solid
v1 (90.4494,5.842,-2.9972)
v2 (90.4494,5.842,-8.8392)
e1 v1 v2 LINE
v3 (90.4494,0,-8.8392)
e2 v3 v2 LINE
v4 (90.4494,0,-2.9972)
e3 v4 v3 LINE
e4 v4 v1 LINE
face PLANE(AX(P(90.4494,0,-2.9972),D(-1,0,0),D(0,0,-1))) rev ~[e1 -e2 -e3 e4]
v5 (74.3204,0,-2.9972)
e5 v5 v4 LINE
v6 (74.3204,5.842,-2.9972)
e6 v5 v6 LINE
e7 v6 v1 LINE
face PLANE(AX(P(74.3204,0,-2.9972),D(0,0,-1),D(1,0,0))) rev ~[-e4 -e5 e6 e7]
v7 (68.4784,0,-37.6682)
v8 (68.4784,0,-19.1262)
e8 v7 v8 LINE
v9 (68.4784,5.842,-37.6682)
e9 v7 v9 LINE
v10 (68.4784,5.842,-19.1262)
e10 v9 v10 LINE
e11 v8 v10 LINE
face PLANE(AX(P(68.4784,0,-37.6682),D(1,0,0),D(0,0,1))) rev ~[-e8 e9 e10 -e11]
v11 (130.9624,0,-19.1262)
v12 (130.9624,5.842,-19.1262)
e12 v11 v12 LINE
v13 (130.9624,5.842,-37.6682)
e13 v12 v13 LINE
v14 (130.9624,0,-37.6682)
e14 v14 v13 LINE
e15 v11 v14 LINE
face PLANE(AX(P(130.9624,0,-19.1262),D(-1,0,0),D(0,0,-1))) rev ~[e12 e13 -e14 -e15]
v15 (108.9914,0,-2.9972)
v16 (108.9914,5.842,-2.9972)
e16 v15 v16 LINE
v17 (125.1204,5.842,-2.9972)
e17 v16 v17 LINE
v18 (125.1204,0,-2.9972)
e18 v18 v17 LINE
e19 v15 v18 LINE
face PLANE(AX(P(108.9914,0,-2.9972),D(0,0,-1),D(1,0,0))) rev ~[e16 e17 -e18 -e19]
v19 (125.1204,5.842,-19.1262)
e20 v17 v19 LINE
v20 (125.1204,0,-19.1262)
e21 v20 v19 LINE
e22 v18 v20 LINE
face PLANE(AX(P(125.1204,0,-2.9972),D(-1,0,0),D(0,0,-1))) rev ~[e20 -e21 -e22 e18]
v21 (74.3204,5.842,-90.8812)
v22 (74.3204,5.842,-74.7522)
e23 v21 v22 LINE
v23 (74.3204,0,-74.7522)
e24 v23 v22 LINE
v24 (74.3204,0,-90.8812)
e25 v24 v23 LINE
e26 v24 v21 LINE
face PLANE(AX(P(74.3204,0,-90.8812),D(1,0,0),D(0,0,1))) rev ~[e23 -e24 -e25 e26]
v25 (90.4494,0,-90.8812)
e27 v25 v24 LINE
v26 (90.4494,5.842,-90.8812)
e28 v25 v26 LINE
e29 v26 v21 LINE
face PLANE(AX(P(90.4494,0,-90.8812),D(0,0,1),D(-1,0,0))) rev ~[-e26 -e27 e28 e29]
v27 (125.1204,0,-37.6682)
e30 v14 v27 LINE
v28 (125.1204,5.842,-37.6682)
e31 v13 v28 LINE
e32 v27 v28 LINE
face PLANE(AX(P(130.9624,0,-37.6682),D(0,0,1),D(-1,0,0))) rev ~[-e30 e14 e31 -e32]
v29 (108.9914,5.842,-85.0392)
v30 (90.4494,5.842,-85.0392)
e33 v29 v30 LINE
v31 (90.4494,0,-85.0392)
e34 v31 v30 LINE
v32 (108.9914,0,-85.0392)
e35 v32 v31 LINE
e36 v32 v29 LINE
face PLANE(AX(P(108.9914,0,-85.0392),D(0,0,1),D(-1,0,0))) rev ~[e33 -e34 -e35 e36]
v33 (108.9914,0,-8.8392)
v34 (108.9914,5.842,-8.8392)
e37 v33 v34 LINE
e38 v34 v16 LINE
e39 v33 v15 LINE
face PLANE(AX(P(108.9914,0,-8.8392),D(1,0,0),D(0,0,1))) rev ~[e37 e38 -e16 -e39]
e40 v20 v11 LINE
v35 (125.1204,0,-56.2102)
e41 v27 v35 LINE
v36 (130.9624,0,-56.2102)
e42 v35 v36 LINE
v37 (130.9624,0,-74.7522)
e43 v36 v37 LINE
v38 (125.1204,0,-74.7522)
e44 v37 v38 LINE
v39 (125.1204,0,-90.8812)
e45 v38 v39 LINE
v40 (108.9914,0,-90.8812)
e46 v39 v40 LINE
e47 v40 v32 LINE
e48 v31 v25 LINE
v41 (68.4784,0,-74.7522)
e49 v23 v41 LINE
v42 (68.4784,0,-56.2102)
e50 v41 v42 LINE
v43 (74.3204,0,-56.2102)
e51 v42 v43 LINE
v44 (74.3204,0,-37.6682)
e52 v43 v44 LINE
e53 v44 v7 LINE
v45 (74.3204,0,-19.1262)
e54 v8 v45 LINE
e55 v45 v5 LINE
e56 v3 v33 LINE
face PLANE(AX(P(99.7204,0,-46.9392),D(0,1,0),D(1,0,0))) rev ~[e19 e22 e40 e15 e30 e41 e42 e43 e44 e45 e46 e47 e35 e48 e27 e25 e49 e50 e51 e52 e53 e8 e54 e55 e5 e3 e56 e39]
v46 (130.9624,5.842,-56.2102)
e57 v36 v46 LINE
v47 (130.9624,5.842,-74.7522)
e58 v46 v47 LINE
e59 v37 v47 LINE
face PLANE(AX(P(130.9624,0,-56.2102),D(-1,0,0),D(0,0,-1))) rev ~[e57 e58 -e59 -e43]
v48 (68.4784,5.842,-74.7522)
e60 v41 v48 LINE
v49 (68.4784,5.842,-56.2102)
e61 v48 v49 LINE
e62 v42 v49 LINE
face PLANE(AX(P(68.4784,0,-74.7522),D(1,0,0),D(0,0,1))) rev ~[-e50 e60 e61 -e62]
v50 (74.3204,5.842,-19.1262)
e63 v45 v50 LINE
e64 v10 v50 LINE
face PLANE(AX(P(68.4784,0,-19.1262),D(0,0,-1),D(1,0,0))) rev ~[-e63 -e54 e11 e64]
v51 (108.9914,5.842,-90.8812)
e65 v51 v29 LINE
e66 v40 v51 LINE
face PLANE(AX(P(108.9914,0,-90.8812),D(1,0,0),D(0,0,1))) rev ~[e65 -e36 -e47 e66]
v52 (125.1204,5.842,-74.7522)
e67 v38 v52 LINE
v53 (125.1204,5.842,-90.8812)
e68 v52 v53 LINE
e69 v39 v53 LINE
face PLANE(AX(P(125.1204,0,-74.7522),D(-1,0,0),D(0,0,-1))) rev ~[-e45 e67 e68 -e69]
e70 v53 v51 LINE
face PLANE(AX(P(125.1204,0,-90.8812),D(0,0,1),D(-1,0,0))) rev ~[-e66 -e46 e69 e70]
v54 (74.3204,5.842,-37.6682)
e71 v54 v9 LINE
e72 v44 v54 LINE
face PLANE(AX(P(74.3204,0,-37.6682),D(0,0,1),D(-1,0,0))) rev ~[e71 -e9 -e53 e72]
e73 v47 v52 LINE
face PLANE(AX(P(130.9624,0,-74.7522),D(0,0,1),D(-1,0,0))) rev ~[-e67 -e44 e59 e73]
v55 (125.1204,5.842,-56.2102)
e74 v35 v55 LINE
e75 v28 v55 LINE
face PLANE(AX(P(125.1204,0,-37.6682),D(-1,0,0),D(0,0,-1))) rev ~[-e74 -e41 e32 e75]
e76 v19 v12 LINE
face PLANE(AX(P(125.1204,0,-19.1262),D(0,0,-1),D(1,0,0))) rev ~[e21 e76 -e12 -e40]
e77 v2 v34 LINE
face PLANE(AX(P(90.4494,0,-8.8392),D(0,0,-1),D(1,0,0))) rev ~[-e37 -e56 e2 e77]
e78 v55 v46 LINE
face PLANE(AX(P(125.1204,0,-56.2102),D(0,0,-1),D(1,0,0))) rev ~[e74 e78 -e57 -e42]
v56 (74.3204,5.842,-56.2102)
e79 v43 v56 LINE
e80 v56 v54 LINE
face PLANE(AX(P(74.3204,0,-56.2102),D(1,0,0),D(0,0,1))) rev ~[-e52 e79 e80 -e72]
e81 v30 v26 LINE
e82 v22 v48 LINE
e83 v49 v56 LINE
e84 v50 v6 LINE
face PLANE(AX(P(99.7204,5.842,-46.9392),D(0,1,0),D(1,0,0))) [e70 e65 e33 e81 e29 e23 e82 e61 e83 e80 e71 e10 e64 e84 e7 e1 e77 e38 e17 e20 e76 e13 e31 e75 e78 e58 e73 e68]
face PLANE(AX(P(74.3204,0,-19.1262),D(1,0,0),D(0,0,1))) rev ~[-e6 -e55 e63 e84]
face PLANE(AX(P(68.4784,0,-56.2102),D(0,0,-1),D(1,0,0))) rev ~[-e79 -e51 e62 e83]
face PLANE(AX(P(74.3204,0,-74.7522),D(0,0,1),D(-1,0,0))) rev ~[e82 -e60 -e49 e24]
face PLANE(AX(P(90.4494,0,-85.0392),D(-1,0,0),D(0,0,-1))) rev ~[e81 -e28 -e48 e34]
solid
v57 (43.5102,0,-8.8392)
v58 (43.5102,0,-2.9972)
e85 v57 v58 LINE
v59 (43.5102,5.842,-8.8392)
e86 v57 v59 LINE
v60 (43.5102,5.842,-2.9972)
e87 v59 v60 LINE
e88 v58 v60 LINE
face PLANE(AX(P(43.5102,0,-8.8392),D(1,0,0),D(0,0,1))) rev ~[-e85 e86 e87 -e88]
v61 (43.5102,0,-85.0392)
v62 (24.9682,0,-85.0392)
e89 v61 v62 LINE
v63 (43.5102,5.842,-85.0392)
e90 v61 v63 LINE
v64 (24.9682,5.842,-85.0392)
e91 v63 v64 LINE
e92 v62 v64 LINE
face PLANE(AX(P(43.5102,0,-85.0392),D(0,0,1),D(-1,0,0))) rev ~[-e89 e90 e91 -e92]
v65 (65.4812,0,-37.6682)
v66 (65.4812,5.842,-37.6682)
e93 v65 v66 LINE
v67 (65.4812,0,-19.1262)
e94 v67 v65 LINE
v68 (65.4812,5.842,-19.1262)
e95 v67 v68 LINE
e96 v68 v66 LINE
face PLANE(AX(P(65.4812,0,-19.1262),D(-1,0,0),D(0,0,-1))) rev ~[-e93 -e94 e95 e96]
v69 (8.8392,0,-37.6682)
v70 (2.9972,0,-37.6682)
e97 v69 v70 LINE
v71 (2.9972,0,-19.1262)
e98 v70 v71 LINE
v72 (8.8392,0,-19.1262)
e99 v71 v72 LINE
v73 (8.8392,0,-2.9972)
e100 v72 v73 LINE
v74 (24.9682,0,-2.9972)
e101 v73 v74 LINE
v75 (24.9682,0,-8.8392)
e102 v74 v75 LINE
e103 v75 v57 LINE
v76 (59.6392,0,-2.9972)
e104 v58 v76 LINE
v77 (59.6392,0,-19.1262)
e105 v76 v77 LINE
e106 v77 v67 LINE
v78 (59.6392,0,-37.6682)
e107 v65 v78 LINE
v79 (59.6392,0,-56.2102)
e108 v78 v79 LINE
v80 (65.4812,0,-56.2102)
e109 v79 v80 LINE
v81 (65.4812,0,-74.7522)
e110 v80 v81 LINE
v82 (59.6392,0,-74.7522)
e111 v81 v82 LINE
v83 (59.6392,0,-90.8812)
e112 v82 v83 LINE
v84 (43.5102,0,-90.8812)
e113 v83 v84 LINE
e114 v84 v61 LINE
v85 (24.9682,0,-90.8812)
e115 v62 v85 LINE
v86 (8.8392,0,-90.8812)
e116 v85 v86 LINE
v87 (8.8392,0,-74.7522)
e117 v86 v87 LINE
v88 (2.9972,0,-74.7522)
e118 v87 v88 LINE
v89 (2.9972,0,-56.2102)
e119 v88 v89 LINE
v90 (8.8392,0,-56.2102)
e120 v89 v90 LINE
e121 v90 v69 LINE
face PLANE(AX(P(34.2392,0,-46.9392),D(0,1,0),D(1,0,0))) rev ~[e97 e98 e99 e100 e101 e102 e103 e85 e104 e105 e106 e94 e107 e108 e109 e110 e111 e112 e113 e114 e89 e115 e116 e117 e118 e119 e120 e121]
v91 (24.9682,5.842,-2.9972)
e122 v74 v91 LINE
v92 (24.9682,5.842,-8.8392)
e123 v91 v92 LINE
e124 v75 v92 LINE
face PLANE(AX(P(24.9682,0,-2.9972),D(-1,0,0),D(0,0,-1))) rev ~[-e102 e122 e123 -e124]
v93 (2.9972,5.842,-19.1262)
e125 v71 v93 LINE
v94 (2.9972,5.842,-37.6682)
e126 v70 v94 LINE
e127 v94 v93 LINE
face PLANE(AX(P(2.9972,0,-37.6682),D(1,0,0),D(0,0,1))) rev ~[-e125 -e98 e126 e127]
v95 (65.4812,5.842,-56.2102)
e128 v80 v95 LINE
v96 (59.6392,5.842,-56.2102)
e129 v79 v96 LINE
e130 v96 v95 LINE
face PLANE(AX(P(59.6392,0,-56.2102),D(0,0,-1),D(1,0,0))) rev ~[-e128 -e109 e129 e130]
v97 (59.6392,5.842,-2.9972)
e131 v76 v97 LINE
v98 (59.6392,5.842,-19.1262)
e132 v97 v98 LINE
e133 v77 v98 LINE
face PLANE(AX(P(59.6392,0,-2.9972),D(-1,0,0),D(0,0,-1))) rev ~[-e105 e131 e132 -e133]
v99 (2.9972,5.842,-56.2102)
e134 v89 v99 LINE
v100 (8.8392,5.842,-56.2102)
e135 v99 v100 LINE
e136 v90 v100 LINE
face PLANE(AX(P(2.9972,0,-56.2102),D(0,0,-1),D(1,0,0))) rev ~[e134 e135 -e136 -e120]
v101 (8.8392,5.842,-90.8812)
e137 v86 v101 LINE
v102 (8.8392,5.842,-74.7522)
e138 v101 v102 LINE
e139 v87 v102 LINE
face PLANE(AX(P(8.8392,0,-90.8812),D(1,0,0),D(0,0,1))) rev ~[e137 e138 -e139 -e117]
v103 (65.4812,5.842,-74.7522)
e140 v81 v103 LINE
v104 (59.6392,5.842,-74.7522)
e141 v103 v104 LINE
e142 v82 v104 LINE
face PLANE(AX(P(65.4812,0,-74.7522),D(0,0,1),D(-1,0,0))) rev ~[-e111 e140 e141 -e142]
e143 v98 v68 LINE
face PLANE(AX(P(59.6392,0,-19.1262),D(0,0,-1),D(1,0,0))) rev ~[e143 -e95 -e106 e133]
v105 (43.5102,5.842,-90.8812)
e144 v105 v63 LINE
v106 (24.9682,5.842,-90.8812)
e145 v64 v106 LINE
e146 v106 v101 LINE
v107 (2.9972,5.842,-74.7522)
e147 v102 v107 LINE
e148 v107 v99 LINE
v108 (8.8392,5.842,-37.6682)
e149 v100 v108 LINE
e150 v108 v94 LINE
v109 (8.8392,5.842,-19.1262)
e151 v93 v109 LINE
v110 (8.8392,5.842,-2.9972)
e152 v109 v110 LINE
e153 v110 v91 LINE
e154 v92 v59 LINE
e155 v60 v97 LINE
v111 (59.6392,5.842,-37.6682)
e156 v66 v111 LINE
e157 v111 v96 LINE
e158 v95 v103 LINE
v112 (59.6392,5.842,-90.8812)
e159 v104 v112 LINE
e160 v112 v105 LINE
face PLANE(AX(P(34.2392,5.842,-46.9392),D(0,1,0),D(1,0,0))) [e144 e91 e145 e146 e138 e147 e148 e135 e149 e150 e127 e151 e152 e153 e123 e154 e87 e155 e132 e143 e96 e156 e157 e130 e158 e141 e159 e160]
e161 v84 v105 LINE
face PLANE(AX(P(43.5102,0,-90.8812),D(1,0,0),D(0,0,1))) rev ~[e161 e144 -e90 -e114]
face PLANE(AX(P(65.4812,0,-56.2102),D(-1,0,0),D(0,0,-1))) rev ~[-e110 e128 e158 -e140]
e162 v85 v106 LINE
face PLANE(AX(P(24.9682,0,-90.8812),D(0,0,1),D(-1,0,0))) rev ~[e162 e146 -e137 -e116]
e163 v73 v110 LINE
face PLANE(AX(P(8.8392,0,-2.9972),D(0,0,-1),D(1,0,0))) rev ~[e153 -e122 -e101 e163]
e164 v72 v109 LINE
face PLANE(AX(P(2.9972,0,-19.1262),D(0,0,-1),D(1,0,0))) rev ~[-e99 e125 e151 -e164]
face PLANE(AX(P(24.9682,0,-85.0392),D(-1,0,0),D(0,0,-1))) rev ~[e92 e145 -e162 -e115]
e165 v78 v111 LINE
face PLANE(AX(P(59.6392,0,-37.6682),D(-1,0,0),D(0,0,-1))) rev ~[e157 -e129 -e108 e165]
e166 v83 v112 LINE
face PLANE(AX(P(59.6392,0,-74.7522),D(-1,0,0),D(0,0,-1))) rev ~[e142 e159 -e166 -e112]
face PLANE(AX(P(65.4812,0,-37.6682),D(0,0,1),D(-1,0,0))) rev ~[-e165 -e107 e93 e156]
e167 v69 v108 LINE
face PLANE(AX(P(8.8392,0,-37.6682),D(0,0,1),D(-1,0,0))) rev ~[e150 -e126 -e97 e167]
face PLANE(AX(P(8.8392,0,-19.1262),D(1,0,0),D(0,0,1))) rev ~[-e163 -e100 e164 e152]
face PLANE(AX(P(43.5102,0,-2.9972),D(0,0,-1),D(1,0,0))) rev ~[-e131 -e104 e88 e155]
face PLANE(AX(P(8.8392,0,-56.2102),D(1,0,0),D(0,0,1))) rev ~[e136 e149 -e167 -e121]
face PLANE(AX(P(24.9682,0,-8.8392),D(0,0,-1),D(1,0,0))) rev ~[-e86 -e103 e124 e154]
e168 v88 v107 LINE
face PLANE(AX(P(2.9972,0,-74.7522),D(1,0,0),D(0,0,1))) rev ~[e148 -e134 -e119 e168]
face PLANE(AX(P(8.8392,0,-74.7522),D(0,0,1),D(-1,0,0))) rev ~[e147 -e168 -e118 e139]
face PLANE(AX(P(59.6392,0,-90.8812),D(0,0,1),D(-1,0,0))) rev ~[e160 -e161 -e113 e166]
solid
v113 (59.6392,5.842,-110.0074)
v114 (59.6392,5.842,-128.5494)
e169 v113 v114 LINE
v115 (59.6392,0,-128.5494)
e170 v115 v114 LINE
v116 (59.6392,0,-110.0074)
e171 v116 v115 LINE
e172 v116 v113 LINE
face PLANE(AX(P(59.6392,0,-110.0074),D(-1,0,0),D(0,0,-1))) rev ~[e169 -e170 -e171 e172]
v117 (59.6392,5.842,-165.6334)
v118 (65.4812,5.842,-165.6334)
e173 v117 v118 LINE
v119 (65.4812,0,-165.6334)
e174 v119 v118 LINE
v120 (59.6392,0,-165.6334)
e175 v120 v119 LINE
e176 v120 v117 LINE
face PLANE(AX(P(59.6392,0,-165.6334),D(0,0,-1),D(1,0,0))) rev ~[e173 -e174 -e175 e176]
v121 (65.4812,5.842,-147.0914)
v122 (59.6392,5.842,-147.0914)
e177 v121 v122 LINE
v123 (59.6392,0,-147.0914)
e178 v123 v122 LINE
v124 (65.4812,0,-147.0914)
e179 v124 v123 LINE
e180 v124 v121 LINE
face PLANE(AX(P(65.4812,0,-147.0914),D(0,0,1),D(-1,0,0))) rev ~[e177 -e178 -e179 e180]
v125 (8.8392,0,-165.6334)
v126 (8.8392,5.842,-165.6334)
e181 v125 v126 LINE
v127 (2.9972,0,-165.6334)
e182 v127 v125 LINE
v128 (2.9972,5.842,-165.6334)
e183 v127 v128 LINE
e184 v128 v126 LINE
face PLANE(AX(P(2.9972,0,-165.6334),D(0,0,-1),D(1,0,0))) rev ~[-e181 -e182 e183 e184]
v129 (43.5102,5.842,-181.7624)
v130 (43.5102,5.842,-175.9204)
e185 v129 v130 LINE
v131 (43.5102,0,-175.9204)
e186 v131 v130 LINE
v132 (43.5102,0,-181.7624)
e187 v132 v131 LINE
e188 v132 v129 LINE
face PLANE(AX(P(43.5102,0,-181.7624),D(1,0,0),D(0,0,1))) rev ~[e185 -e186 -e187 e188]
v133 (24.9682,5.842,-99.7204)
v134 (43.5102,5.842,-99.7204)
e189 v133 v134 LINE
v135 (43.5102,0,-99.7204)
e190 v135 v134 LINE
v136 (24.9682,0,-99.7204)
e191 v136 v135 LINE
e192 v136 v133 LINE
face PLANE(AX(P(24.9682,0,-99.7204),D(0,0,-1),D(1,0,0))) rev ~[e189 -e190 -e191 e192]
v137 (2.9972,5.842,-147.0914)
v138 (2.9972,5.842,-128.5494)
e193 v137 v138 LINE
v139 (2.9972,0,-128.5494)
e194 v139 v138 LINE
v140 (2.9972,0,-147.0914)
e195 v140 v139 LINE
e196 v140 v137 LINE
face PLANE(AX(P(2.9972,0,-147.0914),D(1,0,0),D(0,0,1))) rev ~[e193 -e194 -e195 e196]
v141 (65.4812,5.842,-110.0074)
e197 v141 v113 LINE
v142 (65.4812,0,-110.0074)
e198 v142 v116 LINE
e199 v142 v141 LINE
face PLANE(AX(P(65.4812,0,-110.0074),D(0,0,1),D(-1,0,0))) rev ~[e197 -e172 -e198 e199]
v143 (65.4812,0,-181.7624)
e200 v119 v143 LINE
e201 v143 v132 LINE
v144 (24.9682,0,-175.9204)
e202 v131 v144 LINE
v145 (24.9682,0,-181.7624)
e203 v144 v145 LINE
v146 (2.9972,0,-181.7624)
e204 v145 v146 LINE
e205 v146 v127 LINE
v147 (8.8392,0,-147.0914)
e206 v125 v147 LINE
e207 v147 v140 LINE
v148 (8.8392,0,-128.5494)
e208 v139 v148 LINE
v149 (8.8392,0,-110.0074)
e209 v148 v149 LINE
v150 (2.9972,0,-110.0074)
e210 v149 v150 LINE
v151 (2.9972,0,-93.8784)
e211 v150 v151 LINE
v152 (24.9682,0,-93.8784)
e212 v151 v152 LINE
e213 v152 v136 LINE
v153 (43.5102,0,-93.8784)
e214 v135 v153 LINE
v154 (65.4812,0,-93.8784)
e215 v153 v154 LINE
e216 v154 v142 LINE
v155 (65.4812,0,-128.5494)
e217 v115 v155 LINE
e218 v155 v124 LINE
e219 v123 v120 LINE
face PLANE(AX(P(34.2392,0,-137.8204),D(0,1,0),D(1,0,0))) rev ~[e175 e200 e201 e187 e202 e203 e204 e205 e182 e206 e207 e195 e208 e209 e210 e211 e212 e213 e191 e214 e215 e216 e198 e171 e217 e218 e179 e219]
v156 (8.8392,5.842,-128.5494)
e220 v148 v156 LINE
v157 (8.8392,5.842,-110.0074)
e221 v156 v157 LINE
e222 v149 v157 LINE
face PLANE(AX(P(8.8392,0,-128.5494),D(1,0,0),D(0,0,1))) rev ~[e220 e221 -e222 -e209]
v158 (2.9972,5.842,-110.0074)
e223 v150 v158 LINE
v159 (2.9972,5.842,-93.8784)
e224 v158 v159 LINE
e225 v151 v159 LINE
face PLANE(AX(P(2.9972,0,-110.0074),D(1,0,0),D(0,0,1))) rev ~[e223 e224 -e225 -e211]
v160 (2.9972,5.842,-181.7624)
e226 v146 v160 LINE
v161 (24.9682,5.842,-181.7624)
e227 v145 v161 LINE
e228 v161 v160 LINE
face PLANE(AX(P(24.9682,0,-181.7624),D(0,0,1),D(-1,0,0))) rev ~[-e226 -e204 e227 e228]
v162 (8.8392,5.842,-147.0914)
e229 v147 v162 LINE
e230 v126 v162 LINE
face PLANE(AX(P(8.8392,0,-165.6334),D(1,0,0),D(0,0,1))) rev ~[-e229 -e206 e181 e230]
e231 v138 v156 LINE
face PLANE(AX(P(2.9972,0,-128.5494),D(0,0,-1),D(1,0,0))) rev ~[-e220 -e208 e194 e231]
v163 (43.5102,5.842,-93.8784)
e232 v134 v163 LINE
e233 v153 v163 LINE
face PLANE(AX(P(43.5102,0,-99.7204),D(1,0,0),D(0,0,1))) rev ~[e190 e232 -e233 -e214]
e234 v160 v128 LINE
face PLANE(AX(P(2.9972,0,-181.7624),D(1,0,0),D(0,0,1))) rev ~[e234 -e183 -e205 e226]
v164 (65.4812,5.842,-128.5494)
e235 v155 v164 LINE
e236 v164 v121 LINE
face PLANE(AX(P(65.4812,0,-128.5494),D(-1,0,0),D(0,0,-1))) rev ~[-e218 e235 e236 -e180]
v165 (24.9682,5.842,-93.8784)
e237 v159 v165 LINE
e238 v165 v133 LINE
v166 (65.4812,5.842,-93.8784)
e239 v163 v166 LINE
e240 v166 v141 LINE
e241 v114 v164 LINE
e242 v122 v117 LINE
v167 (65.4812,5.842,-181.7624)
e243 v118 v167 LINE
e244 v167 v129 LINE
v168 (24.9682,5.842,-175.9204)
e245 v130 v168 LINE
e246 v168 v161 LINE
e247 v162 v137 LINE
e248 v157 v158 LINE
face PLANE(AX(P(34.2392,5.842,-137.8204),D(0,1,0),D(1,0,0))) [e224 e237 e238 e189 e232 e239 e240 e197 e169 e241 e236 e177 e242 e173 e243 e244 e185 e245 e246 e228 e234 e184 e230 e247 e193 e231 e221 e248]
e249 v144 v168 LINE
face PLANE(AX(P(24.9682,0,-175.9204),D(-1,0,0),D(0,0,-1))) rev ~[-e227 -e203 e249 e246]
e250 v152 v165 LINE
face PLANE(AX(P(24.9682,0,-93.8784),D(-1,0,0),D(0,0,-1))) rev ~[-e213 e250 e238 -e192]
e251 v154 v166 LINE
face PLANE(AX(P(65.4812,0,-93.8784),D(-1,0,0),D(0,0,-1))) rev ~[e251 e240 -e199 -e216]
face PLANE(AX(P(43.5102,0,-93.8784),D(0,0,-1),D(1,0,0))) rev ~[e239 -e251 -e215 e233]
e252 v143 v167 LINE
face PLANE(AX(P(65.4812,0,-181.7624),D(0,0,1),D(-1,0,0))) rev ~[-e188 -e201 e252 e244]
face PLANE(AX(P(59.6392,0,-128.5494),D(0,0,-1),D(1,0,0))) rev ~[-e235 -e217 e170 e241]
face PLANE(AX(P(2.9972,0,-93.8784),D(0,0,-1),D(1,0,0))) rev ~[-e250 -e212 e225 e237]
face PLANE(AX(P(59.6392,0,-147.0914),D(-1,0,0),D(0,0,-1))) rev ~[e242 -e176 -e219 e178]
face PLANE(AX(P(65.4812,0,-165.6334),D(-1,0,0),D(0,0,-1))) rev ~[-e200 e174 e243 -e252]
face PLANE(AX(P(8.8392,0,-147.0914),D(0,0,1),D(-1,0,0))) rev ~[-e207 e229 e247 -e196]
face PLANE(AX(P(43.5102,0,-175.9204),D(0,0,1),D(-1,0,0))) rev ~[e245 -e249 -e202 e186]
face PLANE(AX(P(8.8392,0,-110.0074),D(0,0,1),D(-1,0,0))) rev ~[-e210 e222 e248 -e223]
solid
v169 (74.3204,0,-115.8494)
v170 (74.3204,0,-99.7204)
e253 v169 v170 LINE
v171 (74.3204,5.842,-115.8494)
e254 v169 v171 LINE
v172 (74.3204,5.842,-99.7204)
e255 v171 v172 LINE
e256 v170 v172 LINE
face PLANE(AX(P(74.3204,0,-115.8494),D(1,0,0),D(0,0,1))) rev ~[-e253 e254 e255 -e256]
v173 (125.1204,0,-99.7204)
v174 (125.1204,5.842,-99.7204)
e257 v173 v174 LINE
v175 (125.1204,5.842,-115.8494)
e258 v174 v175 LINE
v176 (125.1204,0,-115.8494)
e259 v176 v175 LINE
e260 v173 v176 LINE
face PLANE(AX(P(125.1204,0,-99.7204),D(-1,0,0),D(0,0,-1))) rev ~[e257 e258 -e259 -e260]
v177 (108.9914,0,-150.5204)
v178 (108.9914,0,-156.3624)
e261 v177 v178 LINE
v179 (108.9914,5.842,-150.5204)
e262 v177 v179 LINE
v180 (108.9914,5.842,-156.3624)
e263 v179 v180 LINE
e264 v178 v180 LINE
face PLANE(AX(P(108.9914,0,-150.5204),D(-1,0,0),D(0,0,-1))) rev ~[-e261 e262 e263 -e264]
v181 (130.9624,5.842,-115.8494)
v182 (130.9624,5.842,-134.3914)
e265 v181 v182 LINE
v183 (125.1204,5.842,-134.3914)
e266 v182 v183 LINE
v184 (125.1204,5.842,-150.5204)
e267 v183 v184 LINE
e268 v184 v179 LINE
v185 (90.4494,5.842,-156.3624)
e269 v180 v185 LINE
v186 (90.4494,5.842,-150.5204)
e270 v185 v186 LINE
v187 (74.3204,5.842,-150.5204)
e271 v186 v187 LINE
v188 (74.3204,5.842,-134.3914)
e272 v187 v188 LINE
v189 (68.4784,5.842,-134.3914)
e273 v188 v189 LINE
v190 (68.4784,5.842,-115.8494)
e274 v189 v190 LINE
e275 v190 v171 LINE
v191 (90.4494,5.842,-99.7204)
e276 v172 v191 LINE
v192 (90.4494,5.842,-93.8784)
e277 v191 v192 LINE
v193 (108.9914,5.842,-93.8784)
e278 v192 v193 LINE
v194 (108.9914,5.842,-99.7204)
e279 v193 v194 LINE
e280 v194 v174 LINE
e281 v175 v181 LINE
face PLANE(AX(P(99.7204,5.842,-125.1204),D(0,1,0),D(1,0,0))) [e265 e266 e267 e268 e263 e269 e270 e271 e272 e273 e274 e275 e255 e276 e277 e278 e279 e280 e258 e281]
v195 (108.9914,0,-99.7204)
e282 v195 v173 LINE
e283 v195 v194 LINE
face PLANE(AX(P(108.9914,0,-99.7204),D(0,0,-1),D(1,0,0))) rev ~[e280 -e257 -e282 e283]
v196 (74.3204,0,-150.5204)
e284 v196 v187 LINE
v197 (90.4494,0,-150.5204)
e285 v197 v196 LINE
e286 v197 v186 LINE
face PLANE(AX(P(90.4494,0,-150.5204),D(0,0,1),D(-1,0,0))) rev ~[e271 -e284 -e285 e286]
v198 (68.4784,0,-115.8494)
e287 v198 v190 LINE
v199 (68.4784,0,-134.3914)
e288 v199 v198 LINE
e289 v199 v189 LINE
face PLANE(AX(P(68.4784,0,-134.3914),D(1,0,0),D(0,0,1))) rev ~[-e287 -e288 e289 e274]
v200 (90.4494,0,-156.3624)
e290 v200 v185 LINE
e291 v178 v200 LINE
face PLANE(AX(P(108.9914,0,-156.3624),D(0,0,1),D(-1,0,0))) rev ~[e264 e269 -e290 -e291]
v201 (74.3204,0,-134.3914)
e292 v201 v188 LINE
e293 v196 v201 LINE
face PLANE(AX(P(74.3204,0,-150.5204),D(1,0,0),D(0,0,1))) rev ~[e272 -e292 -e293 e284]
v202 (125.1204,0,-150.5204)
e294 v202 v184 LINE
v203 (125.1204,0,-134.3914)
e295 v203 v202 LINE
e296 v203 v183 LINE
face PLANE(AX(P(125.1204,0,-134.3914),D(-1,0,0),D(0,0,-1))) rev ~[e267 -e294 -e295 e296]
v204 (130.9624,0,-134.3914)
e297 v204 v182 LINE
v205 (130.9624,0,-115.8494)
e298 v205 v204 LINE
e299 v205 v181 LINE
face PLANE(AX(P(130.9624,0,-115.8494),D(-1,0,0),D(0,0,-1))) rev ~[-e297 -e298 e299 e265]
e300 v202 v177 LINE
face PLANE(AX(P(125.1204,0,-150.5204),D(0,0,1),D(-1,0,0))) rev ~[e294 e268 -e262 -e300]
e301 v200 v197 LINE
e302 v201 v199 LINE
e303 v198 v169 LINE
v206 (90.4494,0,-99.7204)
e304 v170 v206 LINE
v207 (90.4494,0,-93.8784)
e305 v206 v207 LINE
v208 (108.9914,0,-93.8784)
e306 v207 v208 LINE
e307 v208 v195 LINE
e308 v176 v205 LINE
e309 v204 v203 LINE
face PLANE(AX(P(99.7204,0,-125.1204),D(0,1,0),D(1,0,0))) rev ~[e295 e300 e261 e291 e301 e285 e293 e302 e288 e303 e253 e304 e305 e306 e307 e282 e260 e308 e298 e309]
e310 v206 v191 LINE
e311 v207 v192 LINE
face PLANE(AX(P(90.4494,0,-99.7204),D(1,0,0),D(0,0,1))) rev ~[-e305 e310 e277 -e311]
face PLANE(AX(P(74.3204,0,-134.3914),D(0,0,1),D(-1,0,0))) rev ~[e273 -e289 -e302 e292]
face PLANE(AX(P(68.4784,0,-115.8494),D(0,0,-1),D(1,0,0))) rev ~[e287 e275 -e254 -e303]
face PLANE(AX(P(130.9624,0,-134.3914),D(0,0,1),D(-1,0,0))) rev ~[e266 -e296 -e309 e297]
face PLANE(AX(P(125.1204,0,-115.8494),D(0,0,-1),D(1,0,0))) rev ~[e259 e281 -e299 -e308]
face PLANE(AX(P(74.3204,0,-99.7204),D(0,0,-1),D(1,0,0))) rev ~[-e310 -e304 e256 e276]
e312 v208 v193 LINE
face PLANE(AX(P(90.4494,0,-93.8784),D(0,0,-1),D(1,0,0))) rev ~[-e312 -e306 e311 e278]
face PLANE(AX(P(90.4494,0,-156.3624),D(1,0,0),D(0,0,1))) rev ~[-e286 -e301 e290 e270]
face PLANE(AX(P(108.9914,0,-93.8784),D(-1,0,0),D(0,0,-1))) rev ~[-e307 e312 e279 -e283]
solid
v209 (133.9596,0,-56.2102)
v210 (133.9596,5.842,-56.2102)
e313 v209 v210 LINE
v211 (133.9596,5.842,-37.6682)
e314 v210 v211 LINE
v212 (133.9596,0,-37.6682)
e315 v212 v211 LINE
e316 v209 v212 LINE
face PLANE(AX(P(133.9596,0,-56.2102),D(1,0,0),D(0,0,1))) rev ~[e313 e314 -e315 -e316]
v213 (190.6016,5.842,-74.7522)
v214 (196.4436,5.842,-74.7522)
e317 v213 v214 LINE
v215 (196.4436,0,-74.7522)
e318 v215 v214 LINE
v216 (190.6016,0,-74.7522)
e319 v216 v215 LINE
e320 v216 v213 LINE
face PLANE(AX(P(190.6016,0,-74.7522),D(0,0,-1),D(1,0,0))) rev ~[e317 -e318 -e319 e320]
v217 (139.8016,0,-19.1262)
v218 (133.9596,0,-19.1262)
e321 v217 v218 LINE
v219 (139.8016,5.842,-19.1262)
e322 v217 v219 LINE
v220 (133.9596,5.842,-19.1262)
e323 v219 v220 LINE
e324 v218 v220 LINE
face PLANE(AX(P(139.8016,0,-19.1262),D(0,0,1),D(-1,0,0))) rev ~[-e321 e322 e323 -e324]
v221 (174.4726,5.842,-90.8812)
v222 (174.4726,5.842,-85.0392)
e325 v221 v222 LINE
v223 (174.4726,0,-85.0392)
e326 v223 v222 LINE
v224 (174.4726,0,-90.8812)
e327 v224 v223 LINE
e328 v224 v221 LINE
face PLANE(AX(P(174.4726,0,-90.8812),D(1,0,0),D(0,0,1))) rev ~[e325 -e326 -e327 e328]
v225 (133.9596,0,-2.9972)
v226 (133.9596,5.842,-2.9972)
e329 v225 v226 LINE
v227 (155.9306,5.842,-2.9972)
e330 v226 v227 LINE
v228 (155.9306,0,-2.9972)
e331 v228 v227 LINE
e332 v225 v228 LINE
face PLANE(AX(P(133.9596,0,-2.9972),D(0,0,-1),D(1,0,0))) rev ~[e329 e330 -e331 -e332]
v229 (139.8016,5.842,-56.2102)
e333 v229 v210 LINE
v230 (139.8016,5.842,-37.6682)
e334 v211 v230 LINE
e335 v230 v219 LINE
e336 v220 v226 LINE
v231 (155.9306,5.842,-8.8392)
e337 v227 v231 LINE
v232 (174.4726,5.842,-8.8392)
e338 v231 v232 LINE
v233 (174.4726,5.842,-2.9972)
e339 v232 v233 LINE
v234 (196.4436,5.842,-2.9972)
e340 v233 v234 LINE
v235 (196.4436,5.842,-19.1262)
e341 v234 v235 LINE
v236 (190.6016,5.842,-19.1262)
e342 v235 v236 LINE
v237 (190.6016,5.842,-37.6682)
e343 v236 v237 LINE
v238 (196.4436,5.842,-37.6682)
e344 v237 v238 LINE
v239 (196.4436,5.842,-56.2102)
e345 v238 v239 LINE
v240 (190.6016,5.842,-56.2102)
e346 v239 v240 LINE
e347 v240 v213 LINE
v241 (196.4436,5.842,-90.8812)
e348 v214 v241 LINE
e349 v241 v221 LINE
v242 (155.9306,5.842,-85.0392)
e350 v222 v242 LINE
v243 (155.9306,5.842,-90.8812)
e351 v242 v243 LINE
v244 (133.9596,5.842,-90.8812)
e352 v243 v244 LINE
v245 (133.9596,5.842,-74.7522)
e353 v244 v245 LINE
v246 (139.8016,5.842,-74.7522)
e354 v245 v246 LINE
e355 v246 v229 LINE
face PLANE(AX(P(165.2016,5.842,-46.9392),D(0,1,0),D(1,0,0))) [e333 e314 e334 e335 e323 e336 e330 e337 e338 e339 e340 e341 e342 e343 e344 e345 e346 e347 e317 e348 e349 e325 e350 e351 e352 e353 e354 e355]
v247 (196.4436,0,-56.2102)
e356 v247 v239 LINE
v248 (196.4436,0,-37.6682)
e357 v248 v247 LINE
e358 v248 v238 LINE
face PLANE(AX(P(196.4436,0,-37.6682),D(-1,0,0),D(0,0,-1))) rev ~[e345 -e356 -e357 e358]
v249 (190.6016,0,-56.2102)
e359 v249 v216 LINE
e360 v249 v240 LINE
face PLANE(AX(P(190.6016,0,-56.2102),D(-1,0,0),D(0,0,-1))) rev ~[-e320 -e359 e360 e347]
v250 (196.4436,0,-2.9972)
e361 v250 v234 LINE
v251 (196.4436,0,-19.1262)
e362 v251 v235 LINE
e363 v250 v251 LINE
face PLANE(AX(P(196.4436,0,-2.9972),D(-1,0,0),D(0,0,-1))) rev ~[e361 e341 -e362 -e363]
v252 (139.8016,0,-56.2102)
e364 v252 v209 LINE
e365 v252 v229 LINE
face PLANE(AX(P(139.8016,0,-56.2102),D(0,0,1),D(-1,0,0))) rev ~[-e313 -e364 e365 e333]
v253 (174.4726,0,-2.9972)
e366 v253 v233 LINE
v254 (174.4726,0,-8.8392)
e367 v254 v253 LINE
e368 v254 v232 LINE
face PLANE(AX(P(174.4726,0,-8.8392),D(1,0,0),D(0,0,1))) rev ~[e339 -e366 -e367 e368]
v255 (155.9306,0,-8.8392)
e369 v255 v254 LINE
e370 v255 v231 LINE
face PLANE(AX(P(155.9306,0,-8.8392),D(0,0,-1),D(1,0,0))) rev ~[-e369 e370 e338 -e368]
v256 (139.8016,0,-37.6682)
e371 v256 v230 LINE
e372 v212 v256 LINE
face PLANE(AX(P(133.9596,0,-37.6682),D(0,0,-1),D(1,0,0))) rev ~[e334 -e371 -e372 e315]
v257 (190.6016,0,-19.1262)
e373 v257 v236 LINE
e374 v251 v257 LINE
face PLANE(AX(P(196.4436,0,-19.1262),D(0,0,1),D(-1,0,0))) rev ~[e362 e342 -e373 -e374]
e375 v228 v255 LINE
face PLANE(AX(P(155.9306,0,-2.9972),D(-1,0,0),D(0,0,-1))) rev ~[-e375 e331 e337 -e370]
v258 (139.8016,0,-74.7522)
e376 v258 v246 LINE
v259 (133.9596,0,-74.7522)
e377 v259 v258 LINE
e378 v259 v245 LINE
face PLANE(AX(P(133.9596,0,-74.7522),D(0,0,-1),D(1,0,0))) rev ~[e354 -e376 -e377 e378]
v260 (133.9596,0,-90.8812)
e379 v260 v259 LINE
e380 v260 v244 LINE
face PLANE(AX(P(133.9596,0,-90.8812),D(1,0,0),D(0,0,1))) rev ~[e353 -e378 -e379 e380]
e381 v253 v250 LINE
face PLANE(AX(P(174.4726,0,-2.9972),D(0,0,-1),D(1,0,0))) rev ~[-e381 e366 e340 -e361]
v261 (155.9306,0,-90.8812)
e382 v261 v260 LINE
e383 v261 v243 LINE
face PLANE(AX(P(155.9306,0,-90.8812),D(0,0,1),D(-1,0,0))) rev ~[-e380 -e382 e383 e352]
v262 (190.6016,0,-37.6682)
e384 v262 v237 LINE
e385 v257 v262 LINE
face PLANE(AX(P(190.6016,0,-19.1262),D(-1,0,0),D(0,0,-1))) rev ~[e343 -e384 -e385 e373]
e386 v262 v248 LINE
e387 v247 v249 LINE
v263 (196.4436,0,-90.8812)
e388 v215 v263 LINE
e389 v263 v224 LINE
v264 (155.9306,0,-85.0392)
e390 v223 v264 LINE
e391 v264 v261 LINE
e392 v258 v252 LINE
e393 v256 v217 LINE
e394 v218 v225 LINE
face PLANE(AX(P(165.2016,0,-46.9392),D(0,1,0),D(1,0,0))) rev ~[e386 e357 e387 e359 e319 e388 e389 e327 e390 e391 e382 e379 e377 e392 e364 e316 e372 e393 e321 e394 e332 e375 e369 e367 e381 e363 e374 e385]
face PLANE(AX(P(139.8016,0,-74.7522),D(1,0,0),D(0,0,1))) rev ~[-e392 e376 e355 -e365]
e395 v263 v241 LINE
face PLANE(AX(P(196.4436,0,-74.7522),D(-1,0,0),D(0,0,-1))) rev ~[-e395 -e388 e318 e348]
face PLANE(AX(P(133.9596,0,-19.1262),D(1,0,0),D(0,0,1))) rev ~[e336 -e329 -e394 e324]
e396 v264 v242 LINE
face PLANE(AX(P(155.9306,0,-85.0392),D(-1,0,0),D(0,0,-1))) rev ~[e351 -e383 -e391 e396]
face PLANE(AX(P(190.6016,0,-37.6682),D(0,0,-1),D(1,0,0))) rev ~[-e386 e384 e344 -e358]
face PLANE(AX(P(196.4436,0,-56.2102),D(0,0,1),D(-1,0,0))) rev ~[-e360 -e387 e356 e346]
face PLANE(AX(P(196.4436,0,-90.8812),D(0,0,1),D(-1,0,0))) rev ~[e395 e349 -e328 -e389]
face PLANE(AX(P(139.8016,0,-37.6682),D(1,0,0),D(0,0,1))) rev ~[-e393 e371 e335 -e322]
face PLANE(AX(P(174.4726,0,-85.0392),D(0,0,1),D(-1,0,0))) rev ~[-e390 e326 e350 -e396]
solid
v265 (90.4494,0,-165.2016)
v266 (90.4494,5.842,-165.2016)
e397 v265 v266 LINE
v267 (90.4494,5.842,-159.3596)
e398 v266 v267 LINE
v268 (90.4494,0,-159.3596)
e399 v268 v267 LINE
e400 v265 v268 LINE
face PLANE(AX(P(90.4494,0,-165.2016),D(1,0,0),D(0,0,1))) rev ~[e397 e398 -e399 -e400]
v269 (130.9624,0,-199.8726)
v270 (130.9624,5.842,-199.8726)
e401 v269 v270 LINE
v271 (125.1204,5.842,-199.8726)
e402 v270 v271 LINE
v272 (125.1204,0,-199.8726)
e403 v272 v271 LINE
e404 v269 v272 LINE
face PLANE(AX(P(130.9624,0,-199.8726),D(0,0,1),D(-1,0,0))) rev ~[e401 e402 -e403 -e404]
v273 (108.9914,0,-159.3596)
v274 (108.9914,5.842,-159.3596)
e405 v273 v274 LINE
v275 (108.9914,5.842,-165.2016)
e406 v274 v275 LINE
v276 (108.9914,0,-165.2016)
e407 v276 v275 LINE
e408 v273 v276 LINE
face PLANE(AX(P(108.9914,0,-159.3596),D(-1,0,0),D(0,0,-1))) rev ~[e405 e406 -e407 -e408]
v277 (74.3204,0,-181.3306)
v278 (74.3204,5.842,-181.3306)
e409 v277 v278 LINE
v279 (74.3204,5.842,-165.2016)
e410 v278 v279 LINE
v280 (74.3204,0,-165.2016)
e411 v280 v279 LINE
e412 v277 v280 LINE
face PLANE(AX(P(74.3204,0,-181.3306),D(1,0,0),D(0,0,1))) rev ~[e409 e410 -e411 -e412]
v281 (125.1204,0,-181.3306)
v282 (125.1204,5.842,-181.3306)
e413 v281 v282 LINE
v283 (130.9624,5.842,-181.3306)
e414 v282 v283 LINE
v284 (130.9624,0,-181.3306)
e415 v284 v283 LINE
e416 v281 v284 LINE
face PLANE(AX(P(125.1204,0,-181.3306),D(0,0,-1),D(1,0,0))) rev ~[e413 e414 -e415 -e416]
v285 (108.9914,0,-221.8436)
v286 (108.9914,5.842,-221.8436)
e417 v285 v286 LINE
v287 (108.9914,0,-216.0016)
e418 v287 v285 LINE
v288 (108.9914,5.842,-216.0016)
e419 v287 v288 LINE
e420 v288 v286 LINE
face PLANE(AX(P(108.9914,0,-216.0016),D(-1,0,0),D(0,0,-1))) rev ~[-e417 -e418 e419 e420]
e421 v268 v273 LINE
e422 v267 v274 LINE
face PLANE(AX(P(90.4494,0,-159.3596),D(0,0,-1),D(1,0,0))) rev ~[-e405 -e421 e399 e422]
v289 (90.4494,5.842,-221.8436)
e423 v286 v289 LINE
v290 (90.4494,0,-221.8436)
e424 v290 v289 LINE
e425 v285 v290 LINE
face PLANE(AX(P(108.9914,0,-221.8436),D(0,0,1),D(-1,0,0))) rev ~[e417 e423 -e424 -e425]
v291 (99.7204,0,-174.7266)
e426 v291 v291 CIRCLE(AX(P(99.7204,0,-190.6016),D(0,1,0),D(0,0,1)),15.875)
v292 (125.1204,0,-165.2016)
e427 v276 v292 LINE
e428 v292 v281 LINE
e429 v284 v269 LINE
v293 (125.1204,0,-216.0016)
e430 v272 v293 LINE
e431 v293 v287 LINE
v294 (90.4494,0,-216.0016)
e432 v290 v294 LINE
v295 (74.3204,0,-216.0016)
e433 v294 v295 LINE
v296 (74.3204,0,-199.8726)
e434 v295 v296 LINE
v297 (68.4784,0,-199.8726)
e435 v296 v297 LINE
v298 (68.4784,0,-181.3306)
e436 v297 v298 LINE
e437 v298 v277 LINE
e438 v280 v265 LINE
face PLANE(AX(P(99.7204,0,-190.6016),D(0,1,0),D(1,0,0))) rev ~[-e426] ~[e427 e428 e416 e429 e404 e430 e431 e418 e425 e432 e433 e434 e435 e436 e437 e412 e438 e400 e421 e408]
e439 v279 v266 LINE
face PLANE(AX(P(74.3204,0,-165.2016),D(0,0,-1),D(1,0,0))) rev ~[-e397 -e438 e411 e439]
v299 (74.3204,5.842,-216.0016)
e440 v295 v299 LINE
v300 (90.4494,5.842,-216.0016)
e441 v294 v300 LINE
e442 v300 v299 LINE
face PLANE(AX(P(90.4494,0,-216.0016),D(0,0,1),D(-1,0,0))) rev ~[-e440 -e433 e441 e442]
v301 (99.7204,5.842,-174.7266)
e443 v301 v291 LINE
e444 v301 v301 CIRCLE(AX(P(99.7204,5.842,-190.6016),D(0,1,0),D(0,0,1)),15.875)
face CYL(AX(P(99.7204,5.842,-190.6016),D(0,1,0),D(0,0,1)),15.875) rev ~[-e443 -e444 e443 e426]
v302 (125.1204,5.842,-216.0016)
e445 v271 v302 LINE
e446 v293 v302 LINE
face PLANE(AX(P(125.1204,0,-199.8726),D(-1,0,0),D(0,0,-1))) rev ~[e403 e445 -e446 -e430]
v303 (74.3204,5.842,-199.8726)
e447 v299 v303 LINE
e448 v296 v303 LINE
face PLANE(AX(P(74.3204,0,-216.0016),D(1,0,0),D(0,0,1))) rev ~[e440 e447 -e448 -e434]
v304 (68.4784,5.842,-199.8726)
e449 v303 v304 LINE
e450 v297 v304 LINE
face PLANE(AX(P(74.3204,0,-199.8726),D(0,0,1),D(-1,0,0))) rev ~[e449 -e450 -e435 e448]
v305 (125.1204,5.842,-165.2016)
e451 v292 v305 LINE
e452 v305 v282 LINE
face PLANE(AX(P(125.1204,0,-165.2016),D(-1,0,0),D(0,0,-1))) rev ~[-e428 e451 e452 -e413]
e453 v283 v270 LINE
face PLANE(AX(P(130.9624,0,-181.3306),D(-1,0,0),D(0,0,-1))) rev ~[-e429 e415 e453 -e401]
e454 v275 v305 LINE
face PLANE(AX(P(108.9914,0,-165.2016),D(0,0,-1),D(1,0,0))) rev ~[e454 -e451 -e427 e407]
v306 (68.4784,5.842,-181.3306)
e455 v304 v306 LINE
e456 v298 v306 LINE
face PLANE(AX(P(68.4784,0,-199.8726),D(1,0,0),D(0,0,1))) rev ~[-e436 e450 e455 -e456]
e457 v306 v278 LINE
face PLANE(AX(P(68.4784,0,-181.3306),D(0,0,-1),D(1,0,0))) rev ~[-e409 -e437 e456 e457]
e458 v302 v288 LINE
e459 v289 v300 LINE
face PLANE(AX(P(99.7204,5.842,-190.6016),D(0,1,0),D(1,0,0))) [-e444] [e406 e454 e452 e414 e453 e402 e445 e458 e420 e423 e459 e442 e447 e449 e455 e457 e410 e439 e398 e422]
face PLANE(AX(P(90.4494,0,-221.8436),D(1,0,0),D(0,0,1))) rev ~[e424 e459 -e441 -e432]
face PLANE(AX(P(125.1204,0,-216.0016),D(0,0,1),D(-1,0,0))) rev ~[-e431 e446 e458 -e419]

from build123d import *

# Parameters (mm, degrees)
BOSS_EXTRUDE1_DEPTH   = 5.842
BOSS_EXTRUDE1_2_DEPTH = 5.842
BOSS_EXTRUDE1_3_DEPTH = 5.842
BOSS_EXTRUDE1_4_DEPTH = 5.842
BOSS_EXTRUDE1_5_DEPTH = 5.842
BOSS_EXTRUDE1_6_DEPTH = 5.842
SKETCH5_R             = 15.875
CUT_EXTRUDE1_DEPTH    = 297.37611207


with BuildPart() as part:
    # Sketch4 → Boss-Extrude1 (new body)
    with BuildSketch(Plane(origin=(0, 0, 0), x_dir=(1, 0, 0), z_dir=(0, 1, 0))):
        Polygon((43.5102, 181.7624), (43.5102, 175.9204), (24.9682, 175.9204), (24.9682, 181.7624), (8.8392, 181.7624), (2.9972, 181.7624), (2.9972, 175.9204), (2.9972, 165.6334), (8.8392, 165.6334), (8.8392, 147.0914), (2.9972, 147.0914), (2.9972, 128.5494), (8.8392, 128.5494), (8.8392, 110.0074), (2.9972, 110.0074), (2.9972, 99.7204), (2.9972, 93.8784), (8.8392, 93.8784), (24.9682, 93.8784), (24.9682, 99.7204), (43.5102, 99.7204), (43.5102, 93.8784), (59.6392, 93.8784), (65.4812, 93.8784), (65.4812, 99.7204), (65.4812, 110.0074), (59.6392, 110.0074), (59.6392, 128.5494), (65.4812, 128.5494), (65.4812, 147.0914), (59.6392, 147.0914), (59.6392, 165.6334), (65.4812, 165.6334), (65.4812, 175.9204), (65.4812, 181.7624), (59.6392, 181.7624), align=None)
    extrude(amount=BOSS_EXTRUDE1_DEPTH)


with BuildPart() as body_2:
    # Sketch4 → Boss-Extrude1 2 (new body)
    with BuildSketch(Plane(origin=(0, 0, 0), x_dir=(1, 0, 0), z_dir=(0, 1, 0))):
        Polygon((90.4494, 221.8436), (90.4494, 216.0016), (74.3204, 216.0016), (74.3204, 199.8726), (68.4784, 199.8726), (68.4784, 181.3306), (74.3204, 181.3306), (74.3204, 165.2016), (90.4494, 165.2016), (90.4494, 159.3596), (108.9914, 159.3596), (108.9914, 165.2016), (125.1204, 165.2016), (125.1204, 181.3306), (130.9624, 181.3306), (130.9624, 199.8726), (125.1204, 199.8726), (125.1204, 216.0016), (108.9914, 216.0016), (108.9914, 221.8436), align=None)
    extrude(amount=BOSS_EXTRUDE1_2_DEPTH)

    # Sketch5 → Cut-Extrude1 (cut, through all)
    with BuildSketch(Plane(origin=(0, 5.842, 0), x_dir=(1, 0, 0), z_dir=(0, 1, 0))):
        with Locations((99.7204, 190.6016)):
            Circle(SKETCH5_R)
    extrude(amount=-CUT_EXTRUDE1_DEPTH, mode=Mode.SUBTRACT)


with BuildPart() as body_3:
    # Sketch4 → Boss-Extrude1 3 (new body)
    with BuildSketch(Plane(origin=(0, 0, 0), x_dir=(1, 0, 0), z_dir=(0, 1, 0))):
        Polygon((90.4494, 156.3624), (90.4494, 150.5204), (74.3204, 150.5204), (74.3204, 134.3914), (68.4784, 134.3914), (68.4784, 115.8494), (74.3204, 115.8494), (74.3204, 99.7204), (90.4494, 99.7204), (90.4494, 93.8784), (108.9914, 93.8784), (108.9914, 99.7204), (125.1204, 99.7204), (125.1204, 115.8494), (130.9624, 115.8494), (130.9624, 134.3914), (125.1204, 134.3914), (125.1204, 150.5204), (108.9914, 150.5204), (108.9914, 156.3624), align=None)
    extrude(amount=BOSS_EXTRUDE1_3_DEPTH)


with BuildPart() as body_4:
    # Sketch4 → Boss-Extrude1 4 (new body)
    with BuildSketch(Plane(origin=(0, 0, 0), x_dir=(1, 0, 0), z_dir=(0, 1, 0))):
        Polygon((43.5102, 90.8812), (43.5102, 85.0392), (24.9682, 85.0392), (24.9682, 90.8812), (8.8392, 90.8812), (8.8392, 85.0392), (8.8392, 74.7522), (2.9972, 74.7522), (2.9972, 56.2102), (8.8392, 56.2102), (8.8392, 37.6682), (2.9972, 37.6682), (2.9972, 19.1262), (8.8392, 19.1262), (8.8392, 8.8392), (8.8392, 2.9972), (24.9682, 2.9972), (24.9682, 8.8392), (43.5102, 8.8392), (43.5102, 2.9972), (59.6392, 2.9972), (59.6392, 8.8392), (59.6392, 19.1262), (65.4812, 19.1262), (65.4812, 37.6682), (59.6392, 37.6682), (59.6392, 56.2102), (65.4812, 56.2102), (65.4812, 74.7522), (59.6392, 74.7522), (59.6392, 85.0392), (59.6392, 90.8812), align=None)
    extrude(amount=BOSS_EXTRUDE1_4_DEPTH)


with BuildPart() as body_5:
    # Sketch4 → Boss-Extrude1 5 (new body)
    with BuildSketch(Plane(origin=(0, 0, 0), x_dir=(1, 0, 0), z_dir=(0, 1, 0))):
        Polygon((90.4494, 85.0392), (90.4494, 90.8812), (74.3204, 90.8812), (74.3204, 85.0392), (74.3204, 74.7522), (68.4784, 74.7522), (68.4784, 56.2102), (74.3204, 56.2102), (74.3204, 37.6682), (68.4784, 37.6682), (68.4784, 19.1262), (74.3204, 19.1262), (74.3204, 8.8392), (74.3204, 2.9972), (90.4494, 2.9972), (90.4494, 8.8392), (108.9914, 8.8392), (108.9914, 2.9972), (125.1204, 2.9972), (125.1204, 8.8392), (125.1204, 19.1262), (130.9624, 19.1262), (130.9624, 37.6682), (125.1204, 37.6682), (125.1204, 56.2102), (130.9624, 56.2102), (130.9624, 74.7522), (125.1204, 74.7522), (125.1204, 85.0392), (125.1204, 90.8812), (108.9914, 90.8812), (108.9914, 85.0392), align=None)
    extrude(amount=BOSS_EXTRUDE1_5_DEPTH)


with BuildPart() as body_6:
    # Sketch4 → Boss-Extrude1 6 (new body)
    with BuildSketch(Plane(origin=(0, 0, 0), x_dir=(1, 0, 0), z_dir=(0, 1, 0))):
        Polygon((155.9306, 85.0392), (155.9306, 90.8812), (139.8016, 90.8812), (133.9596, 90.8812), (133.9596, 85.0392), (133.9596, 74.7522), (139.8016, 74.7522), (139.8016, 56.2102), (133.9596, 56.2102), (133.9596, 37.6682), (139.8016, 37.6682), (139.8016, 19.1262), (133.9596, 19.1262), (133.9596, 8.8392), (133.9596, 2.9972), (139.8016, 2.9972), (155.9306, 2.9972), (155.9306, 8.8392), (174.4726, 8.8392), (174.4726, 2.9972), (190.6016, 2.9972), (196.4436, 2.9972), (196.4436, 8.8392), (196.4436, 19.1262), (190.6016, 19.1262), (190.6016, 37.6682), (196.4436, 37.6682), (196.4436, 56.2102), (190.6016, 56.2102), (190.6016, 74.7522), (196.4436, 74.7522), (196.4436, 85.0392), (196.4436, 90.8812), (190.6016, 90.8812), (174.4726, 90.8812), (174.4726, 85.0392), align=None)
    extrude(amount=BOSS_EXTRUDE1_6_DEPTH)


solid = Compound([part.part, body_2.part, body_3.part, body_4.part, body_5.part, body_6.part])
